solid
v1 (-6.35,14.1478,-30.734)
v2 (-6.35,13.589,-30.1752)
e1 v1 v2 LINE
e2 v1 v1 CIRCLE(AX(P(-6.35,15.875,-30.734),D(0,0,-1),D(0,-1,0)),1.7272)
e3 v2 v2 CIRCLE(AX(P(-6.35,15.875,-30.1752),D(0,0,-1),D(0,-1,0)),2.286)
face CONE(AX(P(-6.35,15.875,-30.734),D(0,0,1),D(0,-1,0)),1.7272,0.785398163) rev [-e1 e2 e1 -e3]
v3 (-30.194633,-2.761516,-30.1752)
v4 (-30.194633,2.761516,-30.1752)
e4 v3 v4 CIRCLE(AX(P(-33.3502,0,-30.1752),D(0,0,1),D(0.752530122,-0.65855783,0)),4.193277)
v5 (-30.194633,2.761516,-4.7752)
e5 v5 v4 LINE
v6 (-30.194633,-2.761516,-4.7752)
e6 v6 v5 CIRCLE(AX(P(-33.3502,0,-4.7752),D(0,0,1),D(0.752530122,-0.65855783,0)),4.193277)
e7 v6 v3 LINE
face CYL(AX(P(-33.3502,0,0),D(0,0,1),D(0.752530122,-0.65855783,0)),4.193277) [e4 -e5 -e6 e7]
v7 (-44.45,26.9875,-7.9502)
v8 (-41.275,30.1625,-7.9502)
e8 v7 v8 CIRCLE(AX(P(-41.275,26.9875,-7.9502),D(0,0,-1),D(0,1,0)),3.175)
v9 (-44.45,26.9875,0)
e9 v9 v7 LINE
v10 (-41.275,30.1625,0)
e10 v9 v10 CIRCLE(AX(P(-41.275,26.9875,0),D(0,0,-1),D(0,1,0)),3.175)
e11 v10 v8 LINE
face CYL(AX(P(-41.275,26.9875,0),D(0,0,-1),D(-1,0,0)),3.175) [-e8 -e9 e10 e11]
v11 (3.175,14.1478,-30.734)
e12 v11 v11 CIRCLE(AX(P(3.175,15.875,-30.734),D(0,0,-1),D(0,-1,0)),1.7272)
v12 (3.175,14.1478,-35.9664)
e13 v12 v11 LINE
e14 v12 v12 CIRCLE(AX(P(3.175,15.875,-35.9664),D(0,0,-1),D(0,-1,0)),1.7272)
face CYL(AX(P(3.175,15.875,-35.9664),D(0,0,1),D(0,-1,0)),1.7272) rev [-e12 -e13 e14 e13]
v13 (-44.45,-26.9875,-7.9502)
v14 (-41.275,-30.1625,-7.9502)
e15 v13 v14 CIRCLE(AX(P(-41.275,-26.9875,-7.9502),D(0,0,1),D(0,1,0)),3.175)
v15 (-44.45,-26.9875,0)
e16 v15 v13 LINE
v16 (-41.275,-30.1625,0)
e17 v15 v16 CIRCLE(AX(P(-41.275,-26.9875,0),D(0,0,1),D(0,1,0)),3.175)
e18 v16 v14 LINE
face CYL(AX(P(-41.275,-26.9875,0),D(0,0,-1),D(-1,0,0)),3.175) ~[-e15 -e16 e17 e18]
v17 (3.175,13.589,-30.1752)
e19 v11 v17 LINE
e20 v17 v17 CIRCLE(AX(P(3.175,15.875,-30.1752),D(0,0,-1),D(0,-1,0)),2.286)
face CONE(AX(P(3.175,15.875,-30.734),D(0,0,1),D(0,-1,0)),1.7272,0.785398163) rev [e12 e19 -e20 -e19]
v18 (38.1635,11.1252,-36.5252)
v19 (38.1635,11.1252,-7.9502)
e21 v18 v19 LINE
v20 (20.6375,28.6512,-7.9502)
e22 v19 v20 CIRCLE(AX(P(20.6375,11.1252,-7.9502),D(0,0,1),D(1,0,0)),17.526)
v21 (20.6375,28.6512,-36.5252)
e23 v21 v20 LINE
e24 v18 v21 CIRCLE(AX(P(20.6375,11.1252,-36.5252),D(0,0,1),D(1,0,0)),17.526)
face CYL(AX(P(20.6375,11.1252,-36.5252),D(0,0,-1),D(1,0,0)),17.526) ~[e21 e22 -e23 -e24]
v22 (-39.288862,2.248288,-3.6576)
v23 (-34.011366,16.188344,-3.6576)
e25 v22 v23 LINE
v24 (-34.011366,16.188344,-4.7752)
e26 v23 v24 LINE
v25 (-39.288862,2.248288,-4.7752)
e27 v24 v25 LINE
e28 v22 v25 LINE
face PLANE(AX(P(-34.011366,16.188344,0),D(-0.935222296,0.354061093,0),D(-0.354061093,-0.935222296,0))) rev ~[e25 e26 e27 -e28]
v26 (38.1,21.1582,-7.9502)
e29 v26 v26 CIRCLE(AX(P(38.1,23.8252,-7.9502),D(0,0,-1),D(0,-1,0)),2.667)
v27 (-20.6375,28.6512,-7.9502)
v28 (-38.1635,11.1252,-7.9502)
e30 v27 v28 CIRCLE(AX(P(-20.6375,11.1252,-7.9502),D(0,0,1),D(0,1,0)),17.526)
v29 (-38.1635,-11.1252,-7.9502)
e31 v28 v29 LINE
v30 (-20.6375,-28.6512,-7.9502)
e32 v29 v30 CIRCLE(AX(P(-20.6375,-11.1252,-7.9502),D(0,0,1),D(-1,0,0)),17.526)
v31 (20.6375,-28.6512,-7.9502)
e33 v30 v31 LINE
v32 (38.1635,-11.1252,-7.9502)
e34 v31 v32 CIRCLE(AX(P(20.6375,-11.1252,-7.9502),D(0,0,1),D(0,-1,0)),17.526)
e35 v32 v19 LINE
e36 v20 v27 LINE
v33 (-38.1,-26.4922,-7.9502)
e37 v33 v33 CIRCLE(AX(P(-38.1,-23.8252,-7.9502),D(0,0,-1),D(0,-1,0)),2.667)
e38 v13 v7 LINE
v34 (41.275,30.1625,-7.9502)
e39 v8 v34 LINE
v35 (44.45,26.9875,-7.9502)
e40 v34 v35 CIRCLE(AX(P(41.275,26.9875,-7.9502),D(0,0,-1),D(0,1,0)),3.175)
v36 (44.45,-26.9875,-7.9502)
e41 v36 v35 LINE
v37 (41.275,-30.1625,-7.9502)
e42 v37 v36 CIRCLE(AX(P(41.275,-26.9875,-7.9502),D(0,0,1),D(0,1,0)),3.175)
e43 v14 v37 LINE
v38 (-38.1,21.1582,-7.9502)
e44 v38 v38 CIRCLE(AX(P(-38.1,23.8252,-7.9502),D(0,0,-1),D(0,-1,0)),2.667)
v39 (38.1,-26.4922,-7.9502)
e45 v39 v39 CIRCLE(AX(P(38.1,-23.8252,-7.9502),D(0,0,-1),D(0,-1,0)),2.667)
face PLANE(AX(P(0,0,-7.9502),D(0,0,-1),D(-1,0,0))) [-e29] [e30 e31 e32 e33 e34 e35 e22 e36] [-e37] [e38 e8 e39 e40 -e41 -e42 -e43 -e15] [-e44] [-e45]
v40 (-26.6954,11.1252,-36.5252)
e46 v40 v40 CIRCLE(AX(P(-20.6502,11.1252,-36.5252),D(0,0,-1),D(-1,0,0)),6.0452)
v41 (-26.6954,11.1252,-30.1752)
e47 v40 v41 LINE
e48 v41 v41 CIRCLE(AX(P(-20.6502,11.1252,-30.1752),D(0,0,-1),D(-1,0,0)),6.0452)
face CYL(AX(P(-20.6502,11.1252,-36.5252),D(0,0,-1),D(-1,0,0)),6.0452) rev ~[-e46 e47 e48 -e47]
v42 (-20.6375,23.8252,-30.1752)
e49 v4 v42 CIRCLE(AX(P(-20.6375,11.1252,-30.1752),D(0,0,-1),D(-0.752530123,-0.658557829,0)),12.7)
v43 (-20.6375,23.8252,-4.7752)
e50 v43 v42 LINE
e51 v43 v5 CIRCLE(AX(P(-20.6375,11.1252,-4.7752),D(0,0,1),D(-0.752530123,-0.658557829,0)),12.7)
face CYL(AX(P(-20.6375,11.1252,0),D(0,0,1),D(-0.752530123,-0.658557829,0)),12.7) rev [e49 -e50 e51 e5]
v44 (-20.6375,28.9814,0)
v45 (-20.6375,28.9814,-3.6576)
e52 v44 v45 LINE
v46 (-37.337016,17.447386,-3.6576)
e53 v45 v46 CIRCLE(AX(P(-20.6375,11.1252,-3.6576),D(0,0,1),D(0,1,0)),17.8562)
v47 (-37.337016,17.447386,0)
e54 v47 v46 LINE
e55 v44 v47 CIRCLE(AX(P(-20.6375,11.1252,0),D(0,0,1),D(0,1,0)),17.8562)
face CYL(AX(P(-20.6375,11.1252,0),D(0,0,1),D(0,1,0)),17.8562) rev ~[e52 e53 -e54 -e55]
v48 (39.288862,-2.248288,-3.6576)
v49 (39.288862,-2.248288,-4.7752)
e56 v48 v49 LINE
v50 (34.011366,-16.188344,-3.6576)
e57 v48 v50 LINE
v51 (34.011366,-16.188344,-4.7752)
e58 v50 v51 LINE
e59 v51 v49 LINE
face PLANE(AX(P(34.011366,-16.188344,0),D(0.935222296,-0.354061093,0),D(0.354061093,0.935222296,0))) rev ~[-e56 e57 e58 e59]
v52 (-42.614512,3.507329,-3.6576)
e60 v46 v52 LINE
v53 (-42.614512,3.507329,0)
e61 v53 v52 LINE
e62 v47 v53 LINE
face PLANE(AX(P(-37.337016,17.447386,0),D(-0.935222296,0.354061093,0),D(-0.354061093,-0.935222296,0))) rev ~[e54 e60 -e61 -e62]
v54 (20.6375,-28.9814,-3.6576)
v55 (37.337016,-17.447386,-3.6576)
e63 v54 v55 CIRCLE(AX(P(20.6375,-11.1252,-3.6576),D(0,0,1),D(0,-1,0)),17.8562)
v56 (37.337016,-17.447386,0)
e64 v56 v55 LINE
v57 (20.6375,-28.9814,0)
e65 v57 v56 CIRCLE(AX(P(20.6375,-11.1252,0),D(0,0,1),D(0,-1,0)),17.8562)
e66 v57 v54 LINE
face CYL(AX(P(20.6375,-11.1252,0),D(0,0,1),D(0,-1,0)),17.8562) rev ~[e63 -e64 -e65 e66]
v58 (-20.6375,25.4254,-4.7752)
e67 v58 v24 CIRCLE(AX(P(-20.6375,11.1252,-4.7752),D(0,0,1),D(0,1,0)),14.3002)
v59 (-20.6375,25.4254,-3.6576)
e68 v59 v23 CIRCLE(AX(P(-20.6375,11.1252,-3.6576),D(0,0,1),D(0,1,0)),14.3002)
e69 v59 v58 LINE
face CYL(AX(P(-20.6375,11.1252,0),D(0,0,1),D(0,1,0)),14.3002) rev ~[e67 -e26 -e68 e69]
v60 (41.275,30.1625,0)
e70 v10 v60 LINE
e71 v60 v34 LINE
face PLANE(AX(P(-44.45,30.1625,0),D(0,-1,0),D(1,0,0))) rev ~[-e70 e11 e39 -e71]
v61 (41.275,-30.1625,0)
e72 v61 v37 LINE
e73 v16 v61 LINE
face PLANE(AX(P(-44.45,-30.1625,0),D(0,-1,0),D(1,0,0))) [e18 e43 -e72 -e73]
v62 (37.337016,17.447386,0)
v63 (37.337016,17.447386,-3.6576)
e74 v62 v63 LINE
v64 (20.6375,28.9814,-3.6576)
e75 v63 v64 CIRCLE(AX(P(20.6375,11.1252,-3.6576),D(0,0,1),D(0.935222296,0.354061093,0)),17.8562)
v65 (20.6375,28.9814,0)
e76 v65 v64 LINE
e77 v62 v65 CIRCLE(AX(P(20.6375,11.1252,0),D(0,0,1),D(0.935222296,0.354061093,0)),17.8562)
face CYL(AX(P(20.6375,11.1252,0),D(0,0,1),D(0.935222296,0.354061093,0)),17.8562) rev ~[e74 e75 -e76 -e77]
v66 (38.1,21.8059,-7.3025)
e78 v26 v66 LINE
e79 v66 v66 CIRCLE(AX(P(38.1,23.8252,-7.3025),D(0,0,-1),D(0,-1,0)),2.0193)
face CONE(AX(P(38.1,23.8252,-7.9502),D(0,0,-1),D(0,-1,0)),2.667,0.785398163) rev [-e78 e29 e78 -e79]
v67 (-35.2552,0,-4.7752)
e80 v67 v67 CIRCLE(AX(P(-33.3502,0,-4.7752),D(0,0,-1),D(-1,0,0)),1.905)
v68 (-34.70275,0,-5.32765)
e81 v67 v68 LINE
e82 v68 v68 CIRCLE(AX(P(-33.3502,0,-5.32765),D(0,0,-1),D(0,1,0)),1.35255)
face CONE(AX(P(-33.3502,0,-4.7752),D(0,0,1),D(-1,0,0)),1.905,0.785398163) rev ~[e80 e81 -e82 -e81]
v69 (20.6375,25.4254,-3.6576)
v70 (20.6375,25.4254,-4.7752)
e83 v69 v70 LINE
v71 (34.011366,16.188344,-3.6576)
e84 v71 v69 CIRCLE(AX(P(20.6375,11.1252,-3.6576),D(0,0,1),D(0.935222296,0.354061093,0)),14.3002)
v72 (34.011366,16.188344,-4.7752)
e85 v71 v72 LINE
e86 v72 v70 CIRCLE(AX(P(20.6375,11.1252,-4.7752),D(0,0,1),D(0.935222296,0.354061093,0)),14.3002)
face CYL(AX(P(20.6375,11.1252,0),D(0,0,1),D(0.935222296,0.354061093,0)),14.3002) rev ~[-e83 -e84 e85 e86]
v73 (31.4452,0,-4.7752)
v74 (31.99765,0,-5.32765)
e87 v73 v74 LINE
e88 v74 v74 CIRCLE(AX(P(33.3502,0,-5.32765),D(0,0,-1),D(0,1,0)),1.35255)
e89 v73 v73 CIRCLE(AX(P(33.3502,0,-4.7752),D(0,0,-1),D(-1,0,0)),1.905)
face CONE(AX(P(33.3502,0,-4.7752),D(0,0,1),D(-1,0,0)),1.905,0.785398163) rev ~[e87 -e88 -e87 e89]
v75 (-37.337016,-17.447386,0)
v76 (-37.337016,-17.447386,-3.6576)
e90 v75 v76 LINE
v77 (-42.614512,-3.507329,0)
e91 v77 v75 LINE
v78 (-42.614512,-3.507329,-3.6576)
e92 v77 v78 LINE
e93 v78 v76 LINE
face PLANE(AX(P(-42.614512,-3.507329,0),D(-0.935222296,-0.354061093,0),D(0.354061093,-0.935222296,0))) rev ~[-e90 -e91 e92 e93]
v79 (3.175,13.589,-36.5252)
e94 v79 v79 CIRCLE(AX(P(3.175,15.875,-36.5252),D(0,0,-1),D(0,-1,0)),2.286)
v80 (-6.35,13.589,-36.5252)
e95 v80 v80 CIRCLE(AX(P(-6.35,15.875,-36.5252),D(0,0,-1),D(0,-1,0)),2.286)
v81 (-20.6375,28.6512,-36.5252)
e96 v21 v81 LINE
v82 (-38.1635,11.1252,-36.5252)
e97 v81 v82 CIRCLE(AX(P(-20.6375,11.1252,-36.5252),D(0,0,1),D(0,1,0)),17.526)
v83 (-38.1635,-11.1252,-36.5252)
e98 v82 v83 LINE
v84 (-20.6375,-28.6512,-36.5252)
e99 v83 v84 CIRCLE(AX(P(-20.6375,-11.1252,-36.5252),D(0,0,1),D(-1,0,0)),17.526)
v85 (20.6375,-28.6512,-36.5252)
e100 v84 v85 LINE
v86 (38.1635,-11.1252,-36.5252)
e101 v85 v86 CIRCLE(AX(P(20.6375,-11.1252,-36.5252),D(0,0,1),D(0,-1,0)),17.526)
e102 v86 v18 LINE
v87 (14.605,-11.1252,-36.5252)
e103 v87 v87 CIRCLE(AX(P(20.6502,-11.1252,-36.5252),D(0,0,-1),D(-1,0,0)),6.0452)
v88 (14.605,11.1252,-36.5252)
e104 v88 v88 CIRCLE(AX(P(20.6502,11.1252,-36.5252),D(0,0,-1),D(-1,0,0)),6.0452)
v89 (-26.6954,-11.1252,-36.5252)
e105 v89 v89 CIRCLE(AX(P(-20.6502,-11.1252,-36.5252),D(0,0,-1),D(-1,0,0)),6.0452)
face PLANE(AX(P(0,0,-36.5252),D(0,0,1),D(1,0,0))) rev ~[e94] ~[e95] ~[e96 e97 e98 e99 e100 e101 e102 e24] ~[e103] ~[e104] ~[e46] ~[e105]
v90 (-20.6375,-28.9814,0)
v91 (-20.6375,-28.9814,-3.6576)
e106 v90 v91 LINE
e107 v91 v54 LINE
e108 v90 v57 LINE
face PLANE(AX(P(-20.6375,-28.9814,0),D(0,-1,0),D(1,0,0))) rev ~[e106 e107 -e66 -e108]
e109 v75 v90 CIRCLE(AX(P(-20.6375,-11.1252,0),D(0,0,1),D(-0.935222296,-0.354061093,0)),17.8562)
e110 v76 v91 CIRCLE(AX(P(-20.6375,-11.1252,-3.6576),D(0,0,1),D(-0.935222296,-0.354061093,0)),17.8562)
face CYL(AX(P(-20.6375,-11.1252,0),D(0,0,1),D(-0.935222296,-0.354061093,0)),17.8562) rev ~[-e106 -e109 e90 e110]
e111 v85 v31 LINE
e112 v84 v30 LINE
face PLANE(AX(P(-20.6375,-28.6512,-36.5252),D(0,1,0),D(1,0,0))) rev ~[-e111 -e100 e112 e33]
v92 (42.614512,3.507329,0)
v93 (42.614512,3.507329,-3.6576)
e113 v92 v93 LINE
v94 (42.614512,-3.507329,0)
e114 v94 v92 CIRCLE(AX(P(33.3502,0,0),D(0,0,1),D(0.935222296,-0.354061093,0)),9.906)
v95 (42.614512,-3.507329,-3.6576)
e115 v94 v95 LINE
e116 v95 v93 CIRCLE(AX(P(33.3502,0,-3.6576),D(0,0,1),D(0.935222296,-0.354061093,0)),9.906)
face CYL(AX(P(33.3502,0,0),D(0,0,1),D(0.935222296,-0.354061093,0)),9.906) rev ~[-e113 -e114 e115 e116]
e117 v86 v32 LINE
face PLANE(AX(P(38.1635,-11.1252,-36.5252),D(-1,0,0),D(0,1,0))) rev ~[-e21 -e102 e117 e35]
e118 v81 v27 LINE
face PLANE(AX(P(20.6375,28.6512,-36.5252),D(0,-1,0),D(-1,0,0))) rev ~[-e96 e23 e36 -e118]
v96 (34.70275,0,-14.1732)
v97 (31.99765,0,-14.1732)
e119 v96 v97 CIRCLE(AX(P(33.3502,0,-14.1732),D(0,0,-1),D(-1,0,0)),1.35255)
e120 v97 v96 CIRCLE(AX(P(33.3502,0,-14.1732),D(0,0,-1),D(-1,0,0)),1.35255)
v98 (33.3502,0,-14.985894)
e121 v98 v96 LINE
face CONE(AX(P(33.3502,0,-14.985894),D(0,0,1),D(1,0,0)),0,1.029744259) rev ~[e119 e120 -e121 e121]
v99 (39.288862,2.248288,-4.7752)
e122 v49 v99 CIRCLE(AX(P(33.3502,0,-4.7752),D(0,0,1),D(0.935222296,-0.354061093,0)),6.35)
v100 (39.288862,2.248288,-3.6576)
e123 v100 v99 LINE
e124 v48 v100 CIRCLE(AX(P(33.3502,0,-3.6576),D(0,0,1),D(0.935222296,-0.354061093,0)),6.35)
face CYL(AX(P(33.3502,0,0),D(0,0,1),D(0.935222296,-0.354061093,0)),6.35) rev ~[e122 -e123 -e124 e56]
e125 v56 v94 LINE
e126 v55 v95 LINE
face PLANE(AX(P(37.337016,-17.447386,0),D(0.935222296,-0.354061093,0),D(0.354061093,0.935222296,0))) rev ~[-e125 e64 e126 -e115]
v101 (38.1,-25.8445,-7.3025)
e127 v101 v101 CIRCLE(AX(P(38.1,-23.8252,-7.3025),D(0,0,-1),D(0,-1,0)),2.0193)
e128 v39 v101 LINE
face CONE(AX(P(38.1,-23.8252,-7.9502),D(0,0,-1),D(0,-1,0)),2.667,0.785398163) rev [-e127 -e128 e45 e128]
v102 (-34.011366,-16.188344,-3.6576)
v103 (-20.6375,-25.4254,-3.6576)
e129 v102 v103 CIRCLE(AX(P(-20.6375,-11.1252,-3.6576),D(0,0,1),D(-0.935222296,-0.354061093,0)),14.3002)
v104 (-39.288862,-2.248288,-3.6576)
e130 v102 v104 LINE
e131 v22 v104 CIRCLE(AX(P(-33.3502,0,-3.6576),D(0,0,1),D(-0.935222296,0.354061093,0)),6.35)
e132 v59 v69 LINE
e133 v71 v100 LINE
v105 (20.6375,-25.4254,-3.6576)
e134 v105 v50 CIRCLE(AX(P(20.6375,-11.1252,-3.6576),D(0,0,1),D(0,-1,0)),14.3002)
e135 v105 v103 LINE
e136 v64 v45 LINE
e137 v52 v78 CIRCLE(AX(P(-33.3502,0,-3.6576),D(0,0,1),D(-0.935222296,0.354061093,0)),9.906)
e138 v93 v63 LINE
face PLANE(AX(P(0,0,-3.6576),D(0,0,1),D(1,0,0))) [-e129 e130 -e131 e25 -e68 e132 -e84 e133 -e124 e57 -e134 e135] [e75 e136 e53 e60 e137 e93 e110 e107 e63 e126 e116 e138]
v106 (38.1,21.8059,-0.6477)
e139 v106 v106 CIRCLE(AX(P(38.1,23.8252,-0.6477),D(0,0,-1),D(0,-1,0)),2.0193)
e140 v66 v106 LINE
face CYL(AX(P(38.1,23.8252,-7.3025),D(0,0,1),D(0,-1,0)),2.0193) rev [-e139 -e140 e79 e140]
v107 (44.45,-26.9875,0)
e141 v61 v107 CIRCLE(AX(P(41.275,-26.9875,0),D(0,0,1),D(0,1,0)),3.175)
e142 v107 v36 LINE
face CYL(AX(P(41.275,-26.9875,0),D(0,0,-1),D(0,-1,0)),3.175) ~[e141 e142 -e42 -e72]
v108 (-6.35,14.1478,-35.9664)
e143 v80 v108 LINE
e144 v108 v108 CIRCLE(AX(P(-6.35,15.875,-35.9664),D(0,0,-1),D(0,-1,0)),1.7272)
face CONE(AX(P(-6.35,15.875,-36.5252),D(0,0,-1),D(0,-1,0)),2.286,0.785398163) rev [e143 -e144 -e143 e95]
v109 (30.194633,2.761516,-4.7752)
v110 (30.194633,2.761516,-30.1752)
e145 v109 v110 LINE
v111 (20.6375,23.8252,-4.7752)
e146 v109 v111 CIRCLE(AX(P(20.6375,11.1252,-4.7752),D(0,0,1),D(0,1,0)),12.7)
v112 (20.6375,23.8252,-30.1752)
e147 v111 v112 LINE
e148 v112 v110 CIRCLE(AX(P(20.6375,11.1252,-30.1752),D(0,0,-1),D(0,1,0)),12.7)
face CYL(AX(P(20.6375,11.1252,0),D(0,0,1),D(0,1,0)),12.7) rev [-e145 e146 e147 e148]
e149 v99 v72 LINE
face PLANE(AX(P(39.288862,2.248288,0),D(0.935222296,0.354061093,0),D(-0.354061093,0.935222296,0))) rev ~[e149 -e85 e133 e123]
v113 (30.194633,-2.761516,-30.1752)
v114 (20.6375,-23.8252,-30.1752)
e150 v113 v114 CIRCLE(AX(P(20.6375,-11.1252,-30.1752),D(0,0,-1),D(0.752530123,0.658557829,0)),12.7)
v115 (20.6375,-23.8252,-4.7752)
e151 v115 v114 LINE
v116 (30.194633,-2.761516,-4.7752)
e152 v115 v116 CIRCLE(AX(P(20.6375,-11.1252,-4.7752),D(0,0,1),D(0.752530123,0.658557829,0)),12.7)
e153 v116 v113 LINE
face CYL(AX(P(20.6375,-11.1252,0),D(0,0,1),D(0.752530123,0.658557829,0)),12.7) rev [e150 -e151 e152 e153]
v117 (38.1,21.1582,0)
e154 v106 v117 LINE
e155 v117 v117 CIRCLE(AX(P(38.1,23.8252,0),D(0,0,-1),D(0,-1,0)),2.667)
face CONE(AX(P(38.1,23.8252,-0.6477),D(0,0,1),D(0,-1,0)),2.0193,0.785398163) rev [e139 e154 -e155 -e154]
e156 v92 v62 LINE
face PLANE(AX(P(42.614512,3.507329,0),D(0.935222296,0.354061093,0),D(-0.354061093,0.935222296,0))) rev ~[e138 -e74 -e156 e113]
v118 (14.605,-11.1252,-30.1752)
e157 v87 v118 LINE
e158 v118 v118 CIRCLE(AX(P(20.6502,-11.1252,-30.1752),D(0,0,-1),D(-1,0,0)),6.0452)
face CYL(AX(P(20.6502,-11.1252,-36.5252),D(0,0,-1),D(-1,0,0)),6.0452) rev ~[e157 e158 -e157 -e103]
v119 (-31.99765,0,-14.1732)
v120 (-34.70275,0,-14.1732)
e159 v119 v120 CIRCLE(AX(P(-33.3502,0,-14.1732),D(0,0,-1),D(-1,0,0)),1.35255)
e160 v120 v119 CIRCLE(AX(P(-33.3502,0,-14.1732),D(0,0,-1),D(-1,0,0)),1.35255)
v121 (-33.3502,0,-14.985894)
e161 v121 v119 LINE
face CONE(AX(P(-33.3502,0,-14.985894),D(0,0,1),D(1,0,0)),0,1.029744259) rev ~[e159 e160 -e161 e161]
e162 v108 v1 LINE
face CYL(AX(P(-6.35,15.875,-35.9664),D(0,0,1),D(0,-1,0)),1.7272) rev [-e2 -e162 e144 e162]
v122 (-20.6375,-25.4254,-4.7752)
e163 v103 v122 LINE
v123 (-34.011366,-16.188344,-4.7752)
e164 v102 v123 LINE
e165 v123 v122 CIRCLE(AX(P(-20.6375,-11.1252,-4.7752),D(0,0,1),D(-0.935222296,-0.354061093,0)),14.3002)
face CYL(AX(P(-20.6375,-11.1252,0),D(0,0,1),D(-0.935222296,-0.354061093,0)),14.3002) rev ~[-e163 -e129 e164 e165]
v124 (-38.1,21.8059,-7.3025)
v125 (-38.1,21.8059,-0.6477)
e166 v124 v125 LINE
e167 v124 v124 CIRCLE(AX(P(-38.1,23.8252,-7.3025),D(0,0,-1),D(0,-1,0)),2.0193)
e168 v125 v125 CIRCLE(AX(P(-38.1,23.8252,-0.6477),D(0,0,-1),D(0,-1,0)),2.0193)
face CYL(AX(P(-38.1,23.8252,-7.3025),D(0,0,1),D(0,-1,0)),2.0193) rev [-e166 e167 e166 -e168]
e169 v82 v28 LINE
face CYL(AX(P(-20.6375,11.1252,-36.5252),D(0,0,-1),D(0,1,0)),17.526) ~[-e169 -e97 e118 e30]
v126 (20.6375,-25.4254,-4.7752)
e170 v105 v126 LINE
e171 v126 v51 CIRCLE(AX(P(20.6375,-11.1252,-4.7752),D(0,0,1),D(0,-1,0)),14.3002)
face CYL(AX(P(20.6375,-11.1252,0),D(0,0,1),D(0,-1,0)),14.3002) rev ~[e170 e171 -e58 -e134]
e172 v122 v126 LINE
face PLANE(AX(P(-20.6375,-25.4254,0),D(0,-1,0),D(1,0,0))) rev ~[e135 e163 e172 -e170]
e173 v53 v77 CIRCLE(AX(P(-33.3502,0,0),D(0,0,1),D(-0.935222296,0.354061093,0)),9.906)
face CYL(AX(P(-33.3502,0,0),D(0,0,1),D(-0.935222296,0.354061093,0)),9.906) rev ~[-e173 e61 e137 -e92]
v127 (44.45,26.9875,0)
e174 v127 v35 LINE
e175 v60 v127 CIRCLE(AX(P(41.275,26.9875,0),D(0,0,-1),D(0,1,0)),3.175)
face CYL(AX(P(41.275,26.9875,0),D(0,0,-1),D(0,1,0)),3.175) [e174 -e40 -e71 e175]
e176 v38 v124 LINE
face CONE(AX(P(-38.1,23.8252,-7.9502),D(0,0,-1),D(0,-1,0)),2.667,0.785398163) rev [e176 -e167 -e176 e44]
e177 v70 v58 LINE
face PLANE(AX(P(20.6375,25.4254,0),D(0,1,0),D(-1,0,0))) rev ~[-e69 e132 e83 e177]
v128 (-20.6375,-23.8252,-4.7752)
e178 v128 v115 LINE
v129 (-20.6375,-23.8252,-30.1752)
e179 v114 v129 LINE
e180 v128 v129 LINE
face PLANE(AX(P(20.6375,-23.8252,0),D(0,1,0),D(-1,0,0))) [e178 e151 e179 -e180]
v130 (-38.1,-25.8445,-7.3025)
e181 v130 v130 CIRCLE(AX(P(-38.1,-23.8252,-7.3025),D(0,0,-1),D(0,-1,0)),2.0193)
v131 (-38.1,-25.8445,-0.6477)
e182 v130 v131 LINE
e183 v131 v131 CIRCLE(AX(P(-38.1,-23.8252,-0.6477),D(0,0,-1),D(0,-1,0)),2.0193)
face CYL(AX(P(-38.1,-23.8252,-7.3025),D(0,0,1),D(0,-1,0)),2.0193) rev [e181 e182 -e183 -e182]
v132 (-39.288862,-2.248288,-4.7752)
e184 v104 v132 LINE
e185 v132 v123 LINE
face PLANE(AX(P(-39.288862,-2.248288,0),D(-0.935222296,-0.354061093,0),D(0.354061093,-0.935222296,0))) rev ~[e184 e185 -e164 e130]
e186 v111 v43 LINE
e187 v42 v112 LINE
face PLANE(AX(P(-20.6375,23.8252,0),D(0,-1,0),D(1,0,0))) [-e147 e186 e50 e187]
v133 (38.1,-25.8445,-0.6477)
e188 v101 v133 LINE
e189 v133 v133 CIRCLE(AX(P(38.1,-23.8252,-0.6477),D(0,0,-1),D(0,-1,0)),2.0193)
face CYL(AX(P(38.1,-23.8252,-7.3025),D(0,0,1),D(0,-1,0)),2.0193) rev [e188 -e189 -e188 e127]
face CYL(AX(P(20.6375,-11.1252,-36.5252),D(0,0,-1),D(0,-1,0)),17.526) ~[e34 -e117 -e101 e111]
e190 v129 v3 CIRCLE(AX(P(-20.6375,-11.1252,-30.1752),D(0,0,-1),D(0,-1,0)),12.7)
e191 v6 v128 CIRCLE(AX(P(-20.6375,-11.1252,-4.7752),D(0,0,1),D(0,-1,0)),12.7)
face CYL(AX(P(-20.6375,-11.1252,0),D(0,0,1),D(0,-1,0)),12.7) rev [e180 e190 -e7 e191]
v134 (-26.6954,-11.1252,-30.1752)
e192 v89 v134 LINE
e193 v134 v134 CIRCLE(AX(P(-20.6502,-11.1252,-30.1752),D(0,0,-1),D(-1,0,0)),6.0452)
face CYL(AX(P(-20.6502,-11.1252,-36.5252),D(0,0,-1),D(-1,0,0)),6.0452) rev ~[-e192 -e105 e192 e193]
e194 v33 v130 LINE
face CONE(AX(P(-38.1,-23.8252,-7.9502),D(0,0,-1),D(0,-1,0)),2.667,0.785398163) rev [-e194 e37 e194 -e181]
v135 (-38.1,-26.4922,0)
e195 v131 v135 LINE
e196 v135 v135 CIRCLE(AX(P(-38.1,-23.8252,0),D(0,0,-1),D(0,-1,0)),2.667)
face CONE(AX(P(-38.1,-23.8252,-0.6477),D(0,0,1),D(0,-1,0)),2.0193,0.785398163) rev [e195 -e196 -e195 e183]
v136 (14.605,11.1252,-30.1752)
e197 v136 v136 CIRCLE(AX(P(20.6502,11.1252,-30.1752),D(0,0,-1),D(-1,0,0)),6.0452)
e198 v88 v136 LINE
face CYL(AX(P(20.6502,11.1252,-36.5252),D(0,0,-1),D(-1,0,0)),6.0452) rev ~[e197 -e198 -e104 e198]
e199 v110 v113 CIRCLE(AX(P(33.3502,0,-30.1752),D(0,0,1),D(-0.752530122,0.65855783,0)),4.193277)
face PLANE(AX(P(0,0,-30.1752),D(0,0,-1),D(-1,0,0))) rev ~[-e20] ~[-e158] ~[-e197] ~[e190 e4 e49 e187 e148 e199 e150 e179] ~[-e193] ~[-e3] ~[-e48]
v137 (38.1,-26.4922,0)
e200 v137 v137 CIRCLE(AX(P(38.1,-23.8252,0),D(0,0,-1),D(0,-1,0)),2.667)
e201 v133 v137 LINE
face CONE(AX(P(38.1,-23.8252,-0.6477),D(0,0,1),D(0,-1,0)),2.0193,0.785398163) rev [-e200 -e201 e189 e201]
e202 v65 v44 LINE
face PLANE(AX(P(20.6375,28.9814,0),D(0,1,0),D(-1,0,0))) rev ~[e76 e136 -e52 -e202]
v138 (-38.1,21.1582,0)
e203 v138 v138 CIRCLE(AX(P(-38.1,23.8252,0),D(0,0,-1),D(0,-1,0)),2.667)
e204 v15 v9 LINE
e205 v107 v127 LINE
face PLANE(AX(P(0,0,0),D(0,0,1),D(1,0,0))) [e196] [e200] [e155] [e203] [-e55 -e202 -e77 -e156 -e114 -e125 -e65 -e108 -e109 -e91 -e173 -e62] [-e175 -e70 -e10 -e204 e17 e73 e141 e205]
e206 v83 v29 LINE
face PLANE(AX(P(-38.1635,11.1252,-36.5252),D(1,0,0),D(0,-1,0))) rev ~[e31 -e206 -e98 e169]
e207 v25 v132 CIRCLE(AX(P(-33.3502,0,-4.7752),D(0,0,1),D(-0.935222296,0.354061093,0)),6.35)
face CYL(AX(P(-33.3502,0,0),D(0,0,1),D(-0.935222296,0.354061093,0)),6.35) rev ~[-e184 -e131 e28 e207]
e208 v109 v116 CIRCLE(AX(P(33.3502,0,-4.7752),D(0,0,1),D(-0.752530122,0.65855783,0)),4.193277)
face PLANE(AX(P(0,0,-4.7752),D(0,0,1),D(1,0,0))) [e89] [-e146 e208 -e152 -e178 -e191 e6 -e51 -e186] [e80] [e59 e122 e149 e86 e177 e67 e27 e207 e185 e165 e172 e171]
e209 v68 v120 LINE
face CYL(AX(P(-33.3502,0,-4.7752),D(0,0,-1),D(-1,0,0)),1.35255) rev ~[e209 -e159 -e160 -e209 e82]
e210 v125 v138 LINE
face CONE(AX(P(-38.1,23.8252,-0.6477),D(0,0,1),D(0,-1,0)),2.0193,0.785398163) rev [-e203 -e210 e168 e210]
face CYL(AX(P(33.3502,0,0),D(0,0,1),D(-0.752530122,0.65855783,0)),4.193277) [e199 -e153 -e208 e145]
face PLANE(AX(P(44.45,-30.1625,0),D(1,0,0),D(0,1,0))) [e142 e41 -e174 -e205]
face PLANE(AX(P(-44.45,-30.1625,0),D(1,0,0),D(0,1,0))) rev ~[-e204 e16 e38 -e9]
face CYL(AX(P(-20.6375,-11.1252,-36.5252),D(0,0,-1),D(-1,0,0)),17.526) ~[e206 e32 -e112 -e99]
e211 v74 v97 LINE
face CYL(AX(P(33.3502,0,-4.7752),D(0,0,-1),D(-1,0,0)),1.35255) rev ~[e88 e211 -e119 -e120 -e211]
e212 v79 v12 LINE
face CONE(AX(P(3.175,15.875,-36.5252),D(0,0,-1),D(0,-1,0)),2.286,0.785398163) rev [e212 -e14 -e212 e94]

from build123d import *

# Parameters (mm, degrees)
SKETCH1_W                       = 88.9
SKETCH1_H                       = 60.325
BOSS_EXTRUDE1_DEPTH             = 36.5252
CUT_EXTRUDE1_DEPTH              = 30.1752
CUT_EXTRUDE5_DEPTH              = 4.7752
SKETCH3_R                       = 6.0452
CUT_EXTRUDE2_DEPTH              = 65.958980451
CUT_EXTRUDE3_DEPTH              = 3.6576
SKETCH8_OUTSIDE_W               = 113.594
SKETCH8_OUTSIDE_H               = 85.018
CUT_EXTRUDE4_DEPTH              = 28.575
F_10_32_TAPPED_HOLE1_AT_2_COUNT = 2
F_10_32_TAPPED_HOLE1_AT_2_PITCH = 47.6504
F_10_32_TAPPED_HOLE1_AT_3_COUNT = 2
F_10_32_TAPPED_HOLE1_AT_3_PITCH = 76.2
F_10_32_TAPPED_HOLE1_AT_4_COUNT = 2
F_10_32_TAPPED_HOLE1_AT_4_PITCH = 89.872134837
F_6_32_TAPPED_HOLE1_D           = 2.7051
F_6_32_TAPPED_HOLE1_DEPTH       = 9.398
F_6_32_TAPPED_HOLE1_CSINK_D     = 3.81
F_6_32_TAPPED_HOLE1_CSINK_ANGLE = 90
F_6_32_TAPPED_HOLE1_TIP         = 0.81269403
FILLET1_R                       = 3.175
F_8_32_TAPPED_HOLE1_AT_2_COUNT  = 2
F_8_32_TAPPED_HOLE1_AT_2_PITCH  = 9.525


with BuildPart() as part:
    # Sketch1 → Boss-Extrude1 (new body)
    with BuildSketch(Plane.XY):
        Rectangle(SKETCH1_W, SKETCH1_H)
    extrude(amount=-BOSS_EXTRUDE1_DEPTH)

    # Sketch2 → Cut-Extrude1 (cut)
    with BuildSketch(Plane.XY):
        with BuildLine():
            Line((8.699713209, 23.8252), (20.6375, 23.8252))
            ThreePointArc((20.6375, 23.8252), (32.202723567, 16.372637836), (30.194632556, 2.761515566))
            ThreePointArc((30.194632556, 2.761515566), (29.156922747, 0), (30.194632556, -2.761515566))
            ThreePointArc((30.194632556, -2.761515566), (32.202723567, -16.372637836), (20.6375, -23.8252))
            Line((20.6375, -23.8252), (8.699713209, -23.8252))
            Line((8.699713209, -23.8252), (-8.699713209, -23.8252))
            Line((-8.699713209, -23.8252), (-20.6375, -23.8252))
            ThreePointArc((-20.6375, -23.8252), (-32.202723567, -16.372637836), (-30.194632556, -2.761515566))
            ThreePointArc((-30.194632556, -2.761515566), (-29.156922747, 0), (-30.194632556, 2.761515566))
            ThreePointArc((-30.194632556, 2.761515566), (-32.202723567, 16.372637836), (-20.6375, 23.8252))
            Line((-20.6375, 23.8252), (-8.699713209, 23.8252))
            Line((-8.699713209, 23.8252), (8.699713209, 23.8252))
        make_face()
    extrude(amount=-CUT_EXTRUDE1_DEPTH, mode=Mode.SUBTRACT)

    # Sketch9 → Cut-Extrude5 (cut)
    with BuildSketch(Plane.XY):
        with BuildLine():
            Line((-20.6375, -25.4254), (20.6375, -25.4254))
            ThreePointArc((20.6375, -25.4254), (28.764361073, -22.891671397), (34.011365871, -16.188344448))
            Line((34.011365871, -16.188344448), (39.288861577, -2.248287943))
            ThreePointArc((39.288861577, -2.248287943), (39.7002, 0), (39.288861577, 2.248287943))
            Line((39.288861577, 2.248287943), (34.011365871, 16.188344448))
            ThreePointArc((34.011365871, 16.188344448), (28.764361073, 22.891671397), (20.6375, 25.4254))
            Line((20.6375, 25.4254), (-20.6375, 25.4254))
            ThreePointArc((-20.6375, 25.4254), (-28.764361073, 22.891671397), (-34.011365871, 16.188344448))
            Line((-34.011365871, 16.188344448), (-39.288861577, 2.248287943))
            ThreePointArc((-39.288861577, 2.248287943), (-39.7002, 0), (-39.288861577, -2.248287943))
            Line((-39.288861577, -2.248287943), (-34.011365871, -16.188344448))
            ThreePointArc((-34.011365871, -16.188344448), (-28.764361073, -22.891671397), (-20.6375, -25.4254))
        make_face()
    extrude(amount=-CUT_EXTRUDE5_DEPTH, mode=Mode.SUBTRACT)

    # Sketch3 → Cut-Extrude2 (cut, through all)
    with BuildSketch(Plane(origin=(0, 0, -36.5252), x_dir=(-1, 0, 0), z_dir=(0, 0, -1))):
        with Locations((-20.6502, 11.1252)):
            Circle(SKETCH3_R)
        with Locations((-20.6502, -11.1252)):
            Circle(SKETCH3_R)
        with Locations((20.6502, 11.1252)):
            Circle(SKETCH3_R)
        with Locations((20.6502, -11.1252)):
            Circle(SKETCH3_R)
    extrude(amount=-CUT_EXTRUDE2_DEPTH, mode=Mode.SUBTRACT)

    # Sketch4 → Cut-Extrude3 (cut)
    with BuildSketch(Plane.XY):
        with BuildLine():
            Line((20.6375, 28.9814), (-20.6375, 28.9814))
            ThreePointArc((-20.6375, 28.9814), (-30.78525015, 25.817614551), (-37.337016354, 17.447385697))
            Line((-37.337016354, 17.447385697), (-42.61451206, 3.507329192))
            ThreePointArc((-42.61451206, 3.507329192), (-43.2562, 0), (-42.61451206, -3.507329192))
            Line((-42.61451206, -3.507329192), (-37.337016354, -17.447385697))
            ThreePointArc((-37.337016354, -17.447385697), (-30.78525015, -25.817614551), (-20.6375, -28.9814))
            Line((-20.6375, -28.9814), (20.6375, -28.9814))
            ThreePointArc((20.6375, -28.9814), (30.78525015, -25.817614551), (37.337016354, -17.447385697))
            Line((37.337016354, -17.447385697), (42.61451206, -3.507329192))
            ThreePointArc((42.61451206, -3.507329192), (43.2562, 0), (42.61451206, 3.507329192))
            Line((42.61451206, 3.507329192), (37.337016354, 17.447385697))
            ThreePointArc((37.337016354, 17.447385697), (30.78525015, 25.817614551), (20.6375, 28.9814))
        make_face()
    extrude(amount=-CUT_EXTRUDE3_DEPTH, mode=Mode.SUBTRACT)

    # Sketch8 outside → Cut-Extrude4 (cut)
    with BuildSketch(Plane(origin=(0, 0, -36.5252), x_dir=(-1, 0, 0), z_dir=(0, 0, -1))):
        Rectangle(SKETCH8_OUTSIDE_W, SKETCH8_OUTSIDE_H)
        with BuildLine():
            Line((20.6375, -28.6512), (-20.6375, -28.6512))
            ThreePointArc((-20.6375, -28.6512), (-33.030253447, -23.517953447), (-38.1635, -11.1252))
            Line((-38.1635, -11.1252), (-38.1635, 11.1252))
            ThreePointArc((-38.1635, 11.1252), (-33.030253447, 23.517953447), (-20.6375, 28.6512))
            Line((-20.6375, 28.6512), (20.6375, 28.6512))
            ThreePointArc((20.6375, 28.6512), (33.030253447, 23.517953447), (38.1635, 11.1252))
            Line((38.1635, 11.1252), (38.1635, -11.1252))
            ThreePointArc((38.1635, -11.1252), (33.030253447, -23.517953447), (20.6375, -28.6512))
        make_face(mode=Mode.SUBTRACT)
    extrude(amount=-CUT_EXTRUDE4_DEPTH, mode=Mode.SUBTRACT)

    # Sketch6 → #10-32 Tapped Hole1 (revolve, cut)
    with BuildSketch(Plane(origin=(38.1, 23.8252, 0), x_dir=(0, -1, 0), z_dir=(1, 0, 0))):
        Polygon((0, 0), (0, 7.9502), (2.667, 7.9502), (2.0193, 7.3025), (2.0193, 0.6477), (2.667, 0), align=None)
    f_10_32_tapped_hole1 = revolve(axis=Axis((38.1, 23.8252, 6.35), (0, 0, -1)), mode=Mode.SUBTRACT)

    # #10-32 Tapped Hole1 at 2: #10-32 Tapped Hole1 ×2
    with Locations(*[(0, -i * F_10_32_TAPPED_HOLE1_AT_2_PITCH, 0) for i in range(1, F_10_32_TAPPED_HOLE1_AT_2_COUNT)]):
        add(f_10_32_tapped_hole1, mode=Mode.SUBTRACT)

    # #10-32 Tapped Hole1 at 3: #10-32 Tapped Hole1 ×2
    with Locations(*[(-i * F_10_32_TAPPED_HOLE1_AT_3_PITCH, 0, 0) for i in range(1, F_10_32_TAPPED_HOLE1_AT_3_COUNT)]):
        add(f_10_32_tapped_hole1, mode=Mode.SUBTRACT)

    # #10-32 Tapped Hole1 at 4: #10-32 Tapped Hole1 ×2
    with Locations(*[Vector(-0.8478712577397053, -0.5302021598398957, 0) * (i * F_10_32_TAPPED_HOLE1_AT_4_PITCH) for i in range(1, F_10_32_TAPPED_HOLE1_AT_4_COUNT)]):
        add(f_10_32_tapped_hole1, mode=Mode.SUBTRACT)

    # #6-32 Tapped Hole1
    with Locations(Plane.XY.offset(-4.7752)):
        with Locations((33.3502, 0), (-33.3502, 0)):
            CounterSinkHole(F_6_32_TAPPED_HOLE1_D / 2, F_6_32_TAPPED_HOLE1_CSINK_D / 2, depth=F_6_32_TAPPED_HOLE1_DEPTH, counter_sink_angle=F_6_32_TAPPED_HOLE1_CSINK_ANGLE)
            with Locations((0, 0, -(F_6_32_TAPPED_HOLE1_DEPTH + F_6_32_TAPPED_HOLE1_TIP / 2))):  # 118° drill point
                Cone(0, F_6_32_TAPPED_HOLE1_D / 2, F_6_32_TAPPED_HOLE1_TIP, mode=Mode.SUBTRACT)

    # Fillet1
    fillet1_edges = [part.edges().sort_by_distance(p)[0] for p in [
        (-44.45, -30.1625, -3.9751),
        (44.45, -30.1625, -3.9751),
        (44.45, 30.1625, -3.9751),
        (-44.45, 30.1625, -3.9751),
    ]]
    fillet(fillet1_edges, radius=FILLET1_R)

    # Sketch14 → #8-32 Tapped Hole1 (revolve, cut)
    with BuildSketch(Plane(origin=(-6.35, 15.875, -30.1752), x_dir=(0, -1, 0), z_dir=(1, 0, 0))):
        Polygon((0, 0), (0, 6.35), (2.286, 6.35), (1.7272, 5.7912), (1.7272, 0.5588), (2.286, 0), align=None)
    f_8_32_tapped_hole1 = revolve(axis=Axis((-6.35, 15.875, -23.8252), (0, 0, -1)), mode=Mode.SUBTRACT)

    # #8-32 Tapped Hole1 at 2: #8-32 Tapped Hole1 ×2
    with Locations(*[(i * F_8_32_TAPPED_HOLE1_AT_2_PITCH, 0, 0) for i in range(1, F_8_32_TAPPED_HOLE1_AT_2_COUNT)]):
        add(f_8_32_tapped_hole1, mode=Mode.SUBTRACT)


solid = part.part
